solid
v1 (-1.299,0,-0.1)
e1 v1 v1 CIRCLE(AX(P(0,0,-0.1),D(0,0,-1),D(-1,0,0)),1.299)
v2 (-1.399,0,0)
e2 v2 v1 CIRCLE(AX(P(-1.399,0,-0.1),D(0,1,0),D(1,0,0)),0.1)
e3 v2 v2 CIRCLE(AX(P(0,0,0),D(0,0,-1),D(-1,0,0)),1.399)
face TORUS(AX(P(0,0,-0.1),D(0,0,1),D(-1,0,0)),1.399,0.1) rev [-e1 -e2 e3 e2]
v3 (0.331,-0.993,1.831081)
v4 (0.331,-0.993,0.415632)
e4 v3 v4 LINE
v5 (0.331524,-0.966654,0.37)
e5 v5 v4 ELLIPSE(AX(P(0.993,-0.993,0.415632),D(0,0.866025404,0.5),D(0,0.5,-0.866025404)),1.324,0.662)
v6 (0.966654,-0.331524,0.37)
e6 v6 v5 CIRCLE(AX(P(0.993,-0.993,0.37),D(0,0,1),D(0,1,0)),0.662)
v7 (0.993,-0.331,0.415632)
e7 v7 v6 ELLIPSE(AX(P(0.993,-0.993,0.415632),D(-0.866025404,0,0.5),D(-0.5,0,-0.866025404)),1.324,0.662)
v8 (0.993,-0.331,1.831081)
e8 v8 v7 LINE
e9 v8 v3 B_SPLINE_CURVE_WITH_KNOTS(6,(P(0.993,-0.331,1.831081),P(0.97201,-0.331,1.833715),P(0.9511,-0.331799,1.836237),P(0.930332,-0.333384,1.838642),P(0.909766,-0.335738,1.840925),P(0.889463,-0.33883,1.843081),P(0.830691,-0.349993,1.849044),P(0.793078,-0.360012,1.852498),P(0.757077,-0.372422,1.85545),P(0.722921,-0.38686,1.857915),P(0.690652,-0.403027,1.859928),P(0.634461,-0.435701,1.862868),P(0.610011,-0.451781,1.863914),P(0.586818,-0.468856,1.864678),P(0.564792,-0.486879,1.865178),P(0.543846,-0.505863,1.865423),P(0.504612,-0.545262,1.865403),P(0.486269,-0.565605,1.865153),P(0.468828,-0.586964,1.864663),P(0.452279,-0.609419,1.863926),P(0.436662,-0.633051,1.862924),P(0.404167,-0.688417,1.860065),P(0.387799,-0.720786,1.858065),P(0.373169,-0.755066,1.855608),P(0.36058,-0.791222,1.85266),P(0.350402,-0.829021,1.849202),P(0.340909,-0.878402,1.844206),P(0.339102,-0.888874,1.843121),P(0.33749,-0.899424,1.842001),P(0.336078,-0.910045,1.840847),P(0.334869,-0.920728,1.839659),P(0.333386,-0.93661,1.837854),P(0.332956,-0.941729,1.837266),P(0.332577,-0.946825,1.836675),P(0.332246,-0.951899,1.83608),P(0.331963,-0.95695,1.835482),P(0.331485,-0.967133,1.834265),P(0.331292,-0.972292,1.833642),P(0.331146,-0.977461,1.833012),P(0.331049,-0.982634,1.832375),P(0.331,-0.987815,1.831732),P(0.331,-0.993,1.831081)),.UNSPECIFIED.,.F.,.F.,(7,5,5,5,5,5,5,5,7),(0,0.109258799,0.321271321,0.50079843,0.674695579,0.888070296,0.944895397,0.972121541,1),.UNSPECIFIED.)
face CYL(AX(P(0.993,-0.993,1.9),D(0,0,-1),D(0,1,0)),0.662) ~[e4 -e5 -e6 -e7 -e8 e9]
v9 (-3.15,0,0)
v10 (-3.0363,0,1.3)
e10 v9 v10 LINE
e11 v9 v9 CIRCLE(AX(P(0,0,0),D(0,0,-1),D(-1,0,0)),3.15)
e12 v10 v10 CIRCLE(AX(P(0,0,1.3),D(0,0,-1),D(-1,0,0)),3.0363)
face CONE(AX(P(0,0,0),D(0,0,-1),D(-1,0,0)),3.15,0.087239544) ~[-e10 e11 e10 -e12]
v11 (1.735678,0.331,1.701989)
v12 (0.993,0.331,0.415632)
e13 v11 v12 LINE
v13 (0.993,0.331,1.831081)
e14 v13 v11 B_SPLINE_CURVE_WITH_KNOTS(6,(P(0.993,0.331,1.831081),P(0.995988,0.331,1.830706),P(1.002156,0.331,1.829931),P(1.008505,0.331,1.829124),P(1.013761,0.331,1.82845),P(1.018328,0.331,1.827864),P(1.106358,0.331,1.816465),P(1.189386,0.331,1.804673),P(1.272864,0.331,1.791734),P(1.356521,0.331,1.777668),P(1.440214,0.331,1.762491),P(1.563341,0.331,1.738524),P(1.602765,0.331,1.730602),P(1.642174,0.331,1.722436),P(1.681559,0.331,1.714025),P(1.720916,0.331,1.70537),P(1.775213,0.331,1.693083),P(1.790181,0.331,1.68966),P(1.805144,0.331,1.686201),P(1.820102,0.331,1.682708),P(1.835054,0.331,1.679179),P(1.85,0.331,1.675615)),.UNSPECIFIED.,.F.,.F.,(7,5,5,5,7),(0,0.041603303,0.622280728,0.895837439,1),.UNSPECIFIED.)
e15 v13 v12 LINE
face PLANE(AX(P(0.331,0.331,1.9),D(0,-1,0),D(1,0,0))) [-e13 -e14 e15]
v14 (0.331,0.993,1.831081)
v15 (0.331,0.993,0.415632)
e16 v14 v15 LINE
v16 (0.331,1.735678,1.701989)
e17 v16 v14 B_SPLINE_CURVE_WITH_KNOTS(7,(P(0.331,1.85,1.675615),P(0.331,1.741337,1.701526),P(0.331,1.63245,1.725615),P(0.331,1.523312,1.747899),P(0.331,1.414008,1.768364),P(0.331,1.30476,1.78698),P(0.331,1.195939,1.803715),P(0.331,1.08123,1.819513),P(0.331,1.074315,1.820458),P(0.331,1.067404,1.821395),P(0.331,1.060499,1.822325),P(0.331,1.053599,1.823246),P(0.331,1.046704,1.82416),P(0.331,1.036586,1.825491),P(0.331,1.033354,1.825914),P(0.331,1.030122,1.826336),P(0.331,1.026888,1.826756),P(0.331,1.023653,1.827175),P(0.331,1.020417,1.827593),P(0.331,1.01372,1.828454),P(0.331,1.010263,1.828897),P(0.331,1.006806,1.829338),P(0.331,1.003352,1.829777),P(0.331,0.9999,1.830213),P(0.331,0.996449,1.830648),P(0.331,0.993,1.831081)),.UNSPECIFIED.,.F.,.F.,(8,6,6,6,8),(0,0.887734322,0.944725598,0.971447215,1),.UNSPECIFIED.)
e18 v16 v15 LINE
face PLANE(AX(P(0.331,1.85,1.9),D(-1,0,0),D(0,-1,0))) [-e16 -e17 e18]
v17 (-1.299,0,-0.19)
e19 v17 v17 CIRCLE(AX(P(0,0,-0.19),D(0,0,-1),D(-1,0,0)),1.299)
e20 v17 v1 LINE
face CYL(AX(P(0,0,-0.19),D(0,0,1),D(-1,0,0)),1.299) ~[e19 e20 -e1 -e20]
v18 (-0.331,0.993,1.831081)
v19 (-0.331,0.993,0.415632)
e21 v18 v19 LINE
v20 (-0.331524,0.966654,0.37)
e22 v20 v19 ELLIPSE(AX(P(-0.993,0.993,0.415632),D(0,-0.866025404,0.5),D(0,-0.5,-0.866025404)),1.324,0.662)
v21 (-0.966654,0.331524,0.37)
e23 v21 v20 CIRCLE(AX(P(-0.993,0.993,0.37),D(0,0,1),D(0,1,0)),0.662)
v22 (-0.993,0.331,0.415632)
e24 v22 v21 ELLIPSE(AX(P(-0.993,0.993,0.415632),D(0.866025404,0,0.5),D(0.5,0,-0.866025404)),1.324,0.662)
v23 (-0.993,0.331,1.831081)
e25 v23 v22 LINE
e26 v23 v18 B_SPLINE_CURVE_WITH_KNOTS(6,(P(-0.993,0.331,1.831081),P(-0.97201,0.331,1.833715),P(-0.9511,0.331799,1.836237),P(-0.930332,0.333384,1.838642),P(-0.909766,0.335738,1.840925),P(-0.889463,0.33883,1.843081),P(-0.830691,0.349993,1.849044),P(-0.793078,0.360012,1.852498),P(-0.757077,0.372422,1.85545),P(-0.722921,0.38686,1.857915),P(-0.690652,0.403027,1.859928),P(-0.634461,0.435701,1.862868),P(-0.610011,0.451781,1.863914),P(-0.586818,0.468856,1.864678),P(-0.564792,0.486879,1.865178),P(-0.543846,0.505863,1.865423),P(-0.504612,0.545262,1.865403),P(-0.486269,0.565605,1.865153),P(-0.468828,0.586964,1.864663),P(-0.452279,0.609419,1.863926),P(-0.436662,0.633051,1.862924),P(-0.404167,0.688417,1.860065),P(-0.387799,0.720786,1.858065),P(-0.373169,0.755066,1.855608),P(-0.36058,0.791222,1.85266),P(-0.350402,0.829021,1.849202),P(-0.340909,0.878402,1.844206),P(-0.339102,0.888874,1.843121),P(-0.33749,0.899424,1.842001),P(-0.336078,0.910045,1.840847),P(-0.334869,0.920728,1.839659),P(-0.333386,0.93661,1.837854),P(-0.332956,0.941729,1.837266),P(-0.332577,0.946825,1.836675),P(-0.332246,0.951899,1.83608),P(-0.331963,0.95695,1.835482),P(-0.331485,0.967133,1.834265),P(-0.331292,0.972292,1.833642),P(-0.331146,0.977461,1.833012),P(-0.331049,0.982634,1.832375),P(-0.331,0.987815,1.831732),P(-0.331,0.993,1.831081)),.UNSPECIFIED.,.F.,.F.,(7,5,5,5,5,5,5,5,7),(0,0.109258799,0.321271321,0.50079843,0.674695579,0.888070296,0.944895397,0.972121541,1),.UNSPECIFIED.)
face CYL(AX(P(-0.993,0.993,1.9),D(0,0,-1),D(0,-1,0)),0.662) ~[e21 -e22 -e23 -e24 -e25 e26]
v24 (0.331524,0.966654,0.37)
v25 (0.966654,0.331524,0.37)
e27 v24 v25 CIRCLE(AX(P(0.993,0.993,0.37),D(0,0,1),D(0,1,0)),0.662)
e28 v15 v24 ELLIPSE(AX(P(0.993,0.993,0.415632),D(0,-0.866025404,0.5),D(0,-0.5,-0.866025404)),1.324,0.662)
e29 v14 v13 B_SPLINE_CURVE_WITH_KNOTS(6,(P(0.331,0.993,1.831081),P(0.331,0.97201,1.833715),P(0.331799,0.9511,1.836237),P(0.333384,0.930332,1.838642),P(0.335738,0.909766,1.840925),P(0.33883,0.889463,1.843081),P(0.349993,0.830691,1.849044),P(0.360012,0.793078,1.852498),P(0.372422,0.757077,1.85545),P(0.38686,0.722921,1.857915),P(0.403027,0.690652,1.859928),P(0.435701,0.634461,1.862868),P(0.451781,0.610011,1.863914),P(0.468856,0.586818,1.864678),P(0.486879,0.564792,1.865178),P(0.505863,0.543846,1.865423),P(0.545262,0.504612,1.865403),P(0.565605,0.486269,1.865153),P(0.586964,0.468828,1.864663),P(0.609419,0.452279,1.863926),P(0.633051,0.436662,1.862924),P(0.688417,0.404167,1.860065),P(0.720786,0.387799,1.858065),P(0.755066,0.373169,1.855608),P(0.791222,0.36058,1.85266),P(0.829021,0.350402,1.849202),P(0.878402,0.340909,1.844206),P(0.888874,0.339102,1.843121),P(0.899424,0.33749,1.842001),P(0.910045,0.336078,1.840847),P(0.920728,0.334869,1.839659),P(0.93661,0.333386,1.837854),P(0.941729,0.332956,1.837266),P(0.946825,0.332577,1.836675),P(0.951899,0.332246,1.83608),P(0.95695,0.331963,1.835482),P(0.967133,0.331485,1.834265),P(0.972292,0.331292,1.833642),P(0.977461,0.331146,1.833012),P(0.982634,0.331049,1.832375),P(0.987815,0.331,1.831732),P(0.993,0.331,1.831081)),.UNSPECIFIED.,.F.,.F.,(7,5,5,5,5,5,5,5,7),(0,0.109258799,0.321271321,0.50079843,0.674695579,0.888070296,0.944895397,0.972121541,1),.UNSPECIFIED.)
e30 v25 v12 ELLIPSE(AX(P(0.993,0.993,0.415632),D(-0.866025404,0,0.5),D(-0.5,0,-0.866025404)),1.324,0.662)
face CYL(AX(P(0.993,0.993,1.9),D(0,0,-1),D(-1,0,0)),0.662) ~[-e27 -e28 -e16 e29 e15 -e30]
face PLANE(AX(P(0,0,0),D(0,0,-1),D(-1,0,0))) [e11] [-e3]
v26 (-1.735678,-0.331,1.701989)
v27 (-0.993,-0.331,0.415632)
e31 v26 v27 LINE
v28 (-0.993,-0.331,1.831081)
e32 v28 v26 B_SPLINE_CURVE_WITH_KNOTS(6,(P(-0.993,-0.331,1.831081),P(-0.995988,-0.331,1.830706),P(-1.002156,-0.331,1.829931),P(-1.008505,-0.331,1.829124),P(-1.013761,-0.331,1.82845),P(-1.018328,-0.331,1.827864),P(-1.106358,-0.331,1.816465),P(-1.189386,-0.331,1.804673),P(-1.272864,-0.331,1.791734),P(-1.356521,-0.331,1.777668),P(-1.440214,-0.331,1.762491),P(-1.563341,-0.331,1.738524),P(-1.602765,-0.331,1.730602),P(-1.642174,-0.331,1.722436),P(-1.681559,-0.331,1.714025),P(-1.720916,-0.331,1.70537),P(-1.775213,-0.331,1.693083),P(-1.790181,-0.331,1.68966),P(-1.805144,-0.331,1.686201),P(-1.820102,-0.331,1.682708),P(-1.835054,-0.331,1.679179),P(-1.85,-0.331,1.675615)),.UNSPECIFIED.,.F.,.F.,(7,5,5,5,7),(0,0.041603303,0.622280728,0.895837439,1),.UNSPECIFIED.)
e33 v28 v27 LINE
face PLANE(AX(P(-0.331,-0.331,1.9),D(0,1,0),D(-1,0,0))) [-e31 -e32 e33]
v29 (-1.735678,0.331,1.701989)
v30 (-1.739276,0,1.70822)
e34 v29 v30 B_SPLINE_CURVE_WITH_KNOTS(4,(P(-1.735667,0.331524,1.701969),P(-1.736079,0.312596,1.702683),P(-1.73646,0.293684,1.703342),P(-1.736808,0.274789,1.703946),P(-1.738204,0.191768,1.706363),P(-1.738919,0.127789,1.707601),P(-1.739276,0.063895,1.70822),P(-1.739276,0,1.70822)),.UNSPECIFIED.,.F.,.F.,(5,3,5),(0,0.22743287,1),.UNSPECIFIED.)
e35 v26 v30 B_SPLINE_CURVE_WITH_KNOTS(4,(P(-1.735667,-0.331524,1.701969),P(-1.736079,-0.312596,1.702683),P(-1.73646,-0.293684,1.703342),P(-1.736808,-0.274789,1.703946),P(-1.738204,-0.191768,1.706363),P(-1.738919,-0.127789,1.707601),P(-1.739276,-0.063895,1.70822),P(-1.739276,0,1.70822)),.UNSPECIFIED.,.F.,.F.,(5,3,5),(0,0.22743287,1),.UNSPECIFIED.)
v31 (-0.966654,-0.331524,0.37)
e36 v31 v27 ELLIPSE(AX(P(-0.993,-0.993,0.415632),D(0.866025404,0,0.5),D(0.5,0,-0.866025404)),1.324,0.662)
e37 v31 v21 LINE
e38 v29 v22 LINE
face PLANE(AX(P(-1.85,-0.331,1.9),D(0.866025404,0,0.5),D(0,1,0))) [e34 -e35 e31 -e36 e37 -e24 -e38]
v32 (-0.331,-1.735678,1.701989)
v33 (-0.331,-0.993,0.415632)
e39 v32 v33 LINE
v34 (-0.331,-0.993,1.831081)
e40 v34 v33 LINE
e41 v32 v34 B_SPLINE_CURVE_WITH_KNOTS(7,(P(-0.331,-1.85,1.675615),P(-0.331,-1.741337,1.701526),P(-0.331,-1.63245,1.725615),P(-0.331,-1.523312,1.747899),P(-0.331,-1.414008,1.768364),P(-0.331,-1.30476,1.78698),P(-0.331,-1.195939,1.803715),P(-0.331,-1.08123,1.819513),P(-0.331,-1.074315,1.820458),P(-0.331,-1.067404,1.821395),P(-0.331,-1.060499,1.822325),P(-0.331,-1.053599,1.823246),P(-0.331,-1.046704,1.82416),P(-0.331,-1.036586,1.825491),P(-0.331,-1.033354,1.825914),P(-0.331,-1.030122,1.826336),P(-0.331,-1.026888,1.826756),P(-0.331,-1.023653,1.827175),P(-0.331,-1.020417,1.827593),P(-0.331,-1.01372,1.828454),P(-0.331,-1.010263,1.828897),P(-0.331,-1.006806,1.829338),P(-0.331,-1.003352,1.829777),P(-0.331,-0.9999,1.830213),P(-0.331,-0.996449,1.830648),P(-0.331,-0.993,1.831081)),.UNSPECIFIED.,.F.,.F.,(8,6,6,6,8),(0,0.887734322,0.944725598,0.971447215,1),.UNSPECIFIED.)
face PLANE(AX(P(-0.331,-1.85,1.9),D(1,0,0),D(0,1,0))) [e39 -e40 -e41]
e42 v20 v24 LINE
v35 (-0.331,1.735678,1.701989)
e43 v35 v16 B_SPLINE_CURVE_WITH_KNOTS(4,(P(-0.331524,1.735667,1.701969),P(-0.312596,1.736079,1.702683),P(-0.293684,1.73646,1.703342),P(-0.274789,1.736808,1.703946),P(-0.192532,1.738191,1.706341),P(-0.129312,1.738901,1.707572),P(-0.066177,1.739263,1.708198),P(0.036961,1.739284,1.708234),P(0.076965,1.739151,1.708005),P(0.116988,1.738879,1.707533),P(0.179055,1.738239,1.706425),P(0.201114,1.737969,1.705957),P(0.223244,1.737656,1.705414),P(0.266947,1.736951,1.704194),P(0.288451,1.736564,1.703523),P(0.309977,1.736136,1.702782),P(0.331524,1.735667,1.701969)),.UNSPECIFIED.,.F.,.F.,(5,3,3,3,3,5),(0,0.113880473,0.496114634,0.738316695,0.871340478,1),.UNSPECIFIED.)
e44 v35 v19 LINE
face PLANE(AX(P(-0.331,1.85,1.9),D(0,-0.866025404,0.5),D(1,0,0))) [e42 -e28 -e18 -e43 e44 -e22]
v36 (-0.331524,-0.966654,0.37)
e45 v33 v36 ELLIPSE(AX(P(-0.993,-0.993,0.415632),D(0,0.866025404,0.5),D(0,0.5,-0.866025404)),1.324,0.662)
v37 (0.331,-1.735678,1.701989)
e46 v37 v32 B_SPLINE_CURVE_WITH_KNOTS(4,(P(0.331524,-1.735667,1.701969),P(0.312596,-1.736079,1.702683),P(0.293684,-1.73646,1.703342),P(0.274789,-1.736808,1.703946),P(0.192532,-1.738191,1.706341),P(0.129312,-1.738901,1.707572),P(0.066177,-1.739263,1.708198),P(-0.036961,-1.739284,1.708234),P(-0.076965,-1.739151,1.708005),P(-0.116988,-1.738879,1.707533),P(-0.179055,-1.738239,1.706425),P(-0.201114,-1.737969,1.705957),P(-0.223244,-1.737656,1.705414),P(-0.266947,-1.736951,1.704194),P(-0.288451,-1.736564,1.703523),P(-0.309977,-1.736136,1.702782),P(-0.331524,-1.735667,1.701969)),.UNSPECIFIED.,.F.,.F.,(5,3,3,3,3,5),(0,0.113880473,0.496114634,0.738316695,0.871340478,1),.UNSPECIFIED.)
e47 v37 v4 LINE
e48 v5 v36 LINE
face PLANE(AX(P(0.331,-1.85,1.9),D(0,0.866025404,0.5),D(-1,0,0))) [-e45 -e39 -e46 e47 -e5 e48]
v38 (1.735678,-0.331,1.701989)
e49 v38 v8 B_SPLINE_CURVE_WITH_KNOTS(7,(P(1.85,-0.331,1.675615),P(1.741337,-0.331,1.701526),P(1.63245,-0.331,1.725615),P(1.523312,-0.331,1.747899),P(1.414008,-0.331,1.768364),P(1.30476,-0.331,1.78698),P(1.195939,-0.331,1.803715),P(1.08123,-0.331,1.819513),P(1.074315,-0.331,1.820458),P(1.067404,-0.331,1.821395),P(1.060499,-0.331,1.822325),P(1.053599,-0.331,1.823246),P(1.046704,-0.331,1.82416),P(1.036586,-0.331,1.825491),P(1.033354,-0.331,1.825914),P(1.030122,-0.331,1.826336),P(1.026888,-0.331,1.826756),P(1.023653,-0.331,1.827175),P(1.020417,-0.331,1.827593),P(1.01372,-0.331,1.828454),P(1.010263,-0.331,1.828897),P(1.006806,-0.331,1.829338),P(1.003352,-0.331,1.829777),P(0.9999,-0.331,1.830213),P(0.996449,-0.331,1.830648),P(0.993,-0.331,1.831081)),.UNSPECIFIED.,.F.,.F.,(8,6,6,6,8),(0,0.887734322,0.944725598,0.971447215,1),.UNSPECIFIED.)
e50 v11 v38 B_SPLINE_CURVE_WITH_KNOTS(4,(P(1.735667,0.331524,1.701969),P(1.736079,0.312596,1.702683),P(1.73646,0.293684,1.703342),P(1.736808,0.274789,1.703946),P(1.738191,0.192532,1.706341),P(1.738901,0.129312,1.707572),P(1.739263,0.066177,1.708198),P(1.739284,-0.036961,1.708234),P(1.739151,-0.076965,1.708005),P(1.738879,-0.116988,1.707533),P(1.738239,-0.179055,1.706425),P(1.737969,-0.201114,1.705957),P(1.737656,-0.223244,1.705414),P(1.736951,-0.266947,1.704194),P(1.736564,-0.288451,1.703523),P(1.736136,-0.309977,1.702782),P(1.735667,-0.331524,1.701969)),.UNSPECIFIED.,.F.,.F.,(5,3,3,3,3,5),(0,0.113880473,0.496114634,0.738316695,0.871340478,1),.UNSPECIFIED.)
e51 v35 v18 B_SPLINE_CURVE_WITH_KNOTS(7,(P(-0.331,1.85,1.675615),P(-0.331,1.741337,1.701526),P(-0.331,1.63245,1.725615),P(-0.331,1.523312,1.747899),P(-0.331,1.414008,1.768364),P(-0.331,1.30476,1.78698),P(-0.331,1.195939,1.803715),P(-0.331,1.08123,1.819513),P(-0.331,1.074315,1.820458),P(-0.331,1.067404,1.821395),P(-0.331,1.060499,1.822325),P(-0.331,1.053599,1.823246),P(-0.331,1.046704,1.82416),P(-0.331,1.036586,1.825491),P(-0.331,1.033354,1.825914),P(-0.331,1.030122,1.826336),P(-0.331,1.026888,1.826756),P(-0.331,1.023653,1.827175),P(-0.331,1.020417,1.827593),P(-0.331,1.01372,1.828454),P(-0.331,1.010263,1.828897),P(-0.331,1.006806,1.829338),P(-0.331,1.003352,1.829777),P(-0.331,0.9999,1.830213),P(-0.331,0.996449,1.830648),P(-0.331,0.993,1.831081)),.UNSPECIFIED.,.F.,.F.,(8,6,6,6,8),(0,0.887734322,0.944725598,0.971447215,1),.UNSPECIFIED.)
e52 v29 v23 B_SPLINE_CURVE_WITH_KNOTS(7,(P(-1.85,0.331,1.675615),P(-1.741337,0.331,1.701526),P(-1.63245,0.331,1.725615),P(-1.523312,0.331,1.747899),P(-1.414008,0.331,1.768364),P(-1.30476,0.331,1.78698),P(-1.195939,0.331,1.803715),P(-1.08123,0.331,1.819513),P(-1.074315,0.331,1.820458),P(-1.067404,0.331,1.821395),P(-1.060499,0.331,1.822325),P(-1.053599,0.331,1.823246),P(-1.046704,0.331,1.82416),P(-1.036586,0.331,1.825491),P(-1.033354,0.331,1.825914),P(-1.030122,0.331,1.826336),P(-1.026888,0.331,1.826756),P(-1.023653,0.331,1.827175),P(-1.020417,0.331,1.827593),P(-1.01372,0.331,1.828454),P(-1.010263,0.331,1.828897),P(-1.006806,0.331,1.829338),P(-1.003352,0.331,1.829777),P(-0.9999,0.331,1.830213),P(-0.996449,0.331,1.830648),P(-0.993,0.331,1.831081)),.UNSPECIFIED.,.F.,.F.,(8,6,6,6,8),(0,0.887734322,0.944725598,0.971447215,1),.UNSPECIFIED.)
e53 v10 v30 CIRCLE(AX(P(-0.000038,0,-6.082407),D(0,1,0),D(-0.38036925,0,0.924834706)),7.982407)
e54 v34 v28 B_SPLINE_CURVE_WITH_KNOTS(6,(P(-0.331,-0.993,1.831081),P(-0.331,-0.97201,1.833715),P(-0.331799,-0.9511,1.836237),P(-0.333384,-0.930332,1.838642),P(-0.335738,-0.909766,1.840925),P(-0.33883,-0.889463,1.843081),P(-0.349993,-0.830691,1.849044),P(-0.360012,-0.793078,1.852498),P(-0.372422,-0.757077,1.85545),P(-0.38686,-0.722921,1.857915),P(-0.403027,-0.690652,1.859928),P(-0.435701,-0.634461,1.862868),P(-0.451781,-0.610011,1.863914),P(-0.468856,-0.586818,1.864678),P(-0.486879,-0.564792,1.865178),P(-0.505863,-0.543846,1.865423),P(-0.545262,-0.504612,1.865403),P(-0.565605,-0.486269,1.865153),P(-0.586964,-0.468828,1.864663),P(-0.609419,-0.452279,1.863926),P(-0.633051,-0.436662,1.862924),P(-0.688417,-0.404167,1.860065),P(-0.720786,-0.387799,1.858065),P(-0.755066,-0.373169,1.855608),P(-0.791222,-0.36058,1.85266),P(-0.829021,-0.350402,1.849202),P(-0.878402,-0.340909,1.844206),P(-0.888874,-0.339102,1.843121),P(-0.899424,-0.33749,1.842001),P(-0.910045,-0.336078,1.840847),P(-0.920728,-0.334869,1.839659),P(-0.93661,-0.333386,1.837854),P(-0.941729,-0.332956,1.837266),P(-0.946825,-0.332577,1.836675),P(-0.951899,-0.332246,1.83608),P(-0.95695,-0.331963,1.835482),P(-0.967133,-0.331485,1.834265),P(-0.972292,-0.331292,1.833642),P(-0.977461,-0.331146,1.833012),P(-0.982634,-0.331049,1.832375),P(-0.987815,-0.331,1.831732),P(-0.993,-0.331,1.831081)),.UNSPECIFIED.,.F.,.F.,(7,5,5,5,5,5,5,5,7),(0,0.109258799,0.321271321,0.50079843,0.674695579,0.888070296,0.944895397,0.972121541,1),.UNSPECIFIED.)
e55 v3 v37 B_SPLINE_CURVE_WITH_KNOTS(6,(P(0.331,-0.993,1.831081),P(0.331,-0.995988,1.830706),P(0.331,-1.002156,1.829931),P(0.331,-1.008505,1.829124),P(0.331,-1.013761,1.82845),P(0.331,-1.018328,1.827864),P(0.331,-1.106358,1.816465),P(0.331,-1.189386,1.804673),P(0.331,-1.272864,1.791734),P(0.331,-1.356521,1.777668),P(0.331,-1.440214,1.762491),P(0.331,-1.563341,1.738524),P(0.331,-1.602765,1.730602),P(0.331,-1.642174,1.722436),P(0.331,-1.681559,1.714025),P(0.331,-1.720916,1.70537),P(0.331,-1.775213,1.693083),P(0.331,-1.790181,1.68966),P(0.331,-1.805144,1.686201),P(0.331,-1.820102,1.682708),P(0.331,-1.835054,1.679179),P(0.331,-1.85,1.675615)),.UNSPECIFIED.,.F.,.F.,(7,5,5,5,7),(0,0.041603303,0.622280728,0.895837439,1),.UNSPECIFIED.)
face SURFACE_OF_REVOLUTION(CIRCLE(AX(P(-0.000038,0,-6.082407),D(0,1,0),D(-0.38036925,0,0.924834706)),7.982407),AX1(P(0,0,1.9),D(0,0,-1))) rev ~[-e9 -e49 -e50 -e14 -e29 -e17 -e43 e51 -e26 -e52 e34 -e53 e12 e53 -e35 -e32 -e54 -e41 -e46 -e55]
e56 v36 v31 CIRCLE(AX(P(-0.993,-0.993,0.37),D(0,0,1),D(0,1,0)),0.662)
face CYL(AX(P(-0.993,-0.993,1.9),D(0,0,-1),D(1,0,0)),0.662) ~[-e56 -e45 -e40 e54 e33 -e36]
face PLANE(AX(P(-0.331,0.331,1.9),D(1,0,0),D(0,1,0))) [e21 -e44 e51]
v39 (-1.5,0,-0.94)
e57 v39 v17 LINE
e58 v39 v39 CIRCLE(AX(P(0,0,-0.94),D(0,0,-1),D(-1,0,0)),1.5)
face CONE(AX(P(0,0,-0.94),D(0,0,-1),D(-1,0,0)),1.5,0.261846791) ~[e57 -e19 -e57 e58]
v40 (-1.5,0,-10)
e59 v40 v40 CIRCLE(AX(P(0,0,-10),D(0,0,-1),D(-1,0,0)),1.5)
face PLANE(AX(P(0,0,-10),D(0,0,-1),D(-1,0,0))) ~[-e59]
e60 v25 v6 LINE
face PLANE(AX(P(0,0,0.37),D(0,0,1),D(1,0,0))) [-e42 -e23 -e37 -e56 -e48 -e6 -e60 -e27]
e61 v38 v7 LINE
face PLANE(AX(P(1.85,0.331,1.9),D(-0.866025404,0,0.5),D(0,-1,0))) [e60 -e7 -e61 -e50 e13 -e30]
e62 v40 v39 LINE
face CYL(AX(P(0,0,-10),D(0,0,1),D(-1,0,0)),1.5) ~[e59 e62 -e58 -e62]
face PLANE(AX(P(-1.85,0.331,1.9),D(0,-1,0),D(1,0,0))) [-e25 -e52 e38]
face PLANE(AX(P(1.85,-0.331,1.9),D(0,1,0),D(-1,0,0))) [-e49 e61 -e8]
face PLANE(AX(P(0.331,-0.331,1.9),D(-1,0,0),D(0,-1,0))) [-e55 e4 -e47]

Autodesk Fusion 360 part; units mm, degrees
sketch "Sketch1" plane through (0, 0, 0) normal (0, 1, 0) x (1, 0, 0)
  line L0 (0, -1.9) -> (0, 10)
  line L1 (-3.15, 0) -> (-3.0363, -1.3)
  line L2 (-3.15, 0) -> (-1.399, 0)
  arc A0 (-3.0363, -1.3) -> (0, -1.9) centre (0, 6.0824) ccw
  line L3 (0, 10) -> (-1.5, 10)
  line L4 (-1.5, 10) -> (-1.5, 0.94)
  line L5 (-1.5, 0.94) -> (-1.299, 0.19)
  line L6 (-1.299, 0.19) -> (-1.299, 0.1)
  line L7 (-1.299, 0.1) -> (-1.399, 0.1) construction
  line L8 (-1.399, 0.1) -> (-1.399, 0) construction
  circle A1 centre (-1.399, 0.1) radius 0.1
  dimension "d13" = 5
  dimension "d14" = 6.3
  dimension "d15" = 0.6
  dimension "d17" = 1.3
  dimension "d18" = 3
  dimension "d19" = 10
  dimension "d20" = 9.06
  dimension "d22" = 0.75
  dimension "d23" = 15
  dimension "d24" = 0.1
  dimension "d25" = 0.1
  dimension "d26" = 0.2
revolve "Revolve1" add sketch "Sketch1" angle 360 about axis through (0, 0, 1.9) along (0, 0, -1) contours L0 L1 L2 A0 L3 L4 L5 L6 A1 makes body 1
ref_plane "WorkPlane1" through (0, 0, 1.9) normal (0, 0, 1) x (1, 0, 0)
sketch "Sketch2" plane through (0, 0, 1.9) normal (0, 0, 1) x (1, 0, 0)
  line L0 (-1.85, 0) -> (1.85, 0) construction
  line L1 (0, -1.85) -> (0, 1.85) construction
  line L2 (-0.331, 1.85) -> (0.331, 1.85)
  line L3 (0.331, 1.85) -> (0.331, 0.331)
  line L4 (0.331, 0.331) -> (1.85, 0.331)
  line L5 (1.85, 0.331) -> (1.85, -0.331)
  line L6 (1.85, -0.331) -> (0.331, -0.331)
  line L7 (0.331, -0.331) -> (0.331, -1.85)
  line L8 (0.331, -1.85) -> (-0.331, -1.85)
  line L9 (-0.331, -1.85) -> (-0.331, -0.331)
  line L10 (-0.331, -0.331) -> (-1.85, -0.331)
  line L11 (-1.85, -0.331) -> (-1.85, 0.331)
  line L12 (-1.85, 0.331) -> (-0.331, 0.331)
  line L13 (-0.331, 0.331) -> (-0.331, 1.85)
  dimension "d39" = 3.7
  dimension "d40" = 3.7
  dimension "d41" = 0.662
  dimension "d42" = 0.662
extrude "Extrude1" add sketch "Sketch2" against normal blind 1.53 separate body makes body 2
draft "Draft1" angle -30 neutral plane through (0, 0, 1.9) pull (0, 0, 1) 4 faces at (0.1103, -1.85, 1.39) (-0.1103, 1.85, 1.39) (-1.85, -0.1103, 1.39) (1.85, 0.1103, 1.39) on bodies 2
fillet "Fillet1" radius 0.662 4 edges at (0.331, -0.331, 1.135) (-0.331, -0.331, 1.135) (-0.331, 0.331, 1.135) (0.331, 0.331, 1.135) on bodies 2
combine "Combine1" operation cut target body 1 tool bodies 2
thread "Thread1"
equation "adsk_nomdia = 3.00 mm"
equation "adsk_nomlen = 10.00 mm"
equation "adsk_headdia = 6.30 mm"
equation "adsk_bheig = 1.30 mm"
equation "adsk_phildia = 3.70 mm"
equation "adsk_r = 0.10 mm"
equation "adsk_thrlen = 9.06 mm"
equation "adsk_phildepth = 1.53 mm"
equation "adsk_grplen = 0.94 mm"
equation "adsk_runout = 0.75 mm"
equation "adsk_runang = 15.00 deg"
equation "adsk_headang = 5.00 deg"
equation "d13 = adsk_headang"
equation "d14 = adsk_headdia"
equation "d15 = adsk_ovalh"
equation "adsk_ovalh = 0.60 mm"
equation "d17 = adsk_bheig"
equation "d18 = adsk_nomdia"
equation "d19 = adsk_nomlen"
equation "d20 = adsk_thrlen"
equation "d22 = adsk_runout"
equation "d24 = adsk_r"
equation "d25 = adsk_r"
equation "d26 = adsk_r * 2"
equation "d32 = adsk_bheig + adsk_ovalh"
equation "adsk_philwidth = 0.662 mm"
equation "d39 = adsk_phildia"
equation "d40 = adsk_phildia"
equation "d41 = adsk_philwidth"
equation "d42 = adsk_philwidth"
equation "d48 = adsk_philwidth"
properties part number "arrangementsContainer"
